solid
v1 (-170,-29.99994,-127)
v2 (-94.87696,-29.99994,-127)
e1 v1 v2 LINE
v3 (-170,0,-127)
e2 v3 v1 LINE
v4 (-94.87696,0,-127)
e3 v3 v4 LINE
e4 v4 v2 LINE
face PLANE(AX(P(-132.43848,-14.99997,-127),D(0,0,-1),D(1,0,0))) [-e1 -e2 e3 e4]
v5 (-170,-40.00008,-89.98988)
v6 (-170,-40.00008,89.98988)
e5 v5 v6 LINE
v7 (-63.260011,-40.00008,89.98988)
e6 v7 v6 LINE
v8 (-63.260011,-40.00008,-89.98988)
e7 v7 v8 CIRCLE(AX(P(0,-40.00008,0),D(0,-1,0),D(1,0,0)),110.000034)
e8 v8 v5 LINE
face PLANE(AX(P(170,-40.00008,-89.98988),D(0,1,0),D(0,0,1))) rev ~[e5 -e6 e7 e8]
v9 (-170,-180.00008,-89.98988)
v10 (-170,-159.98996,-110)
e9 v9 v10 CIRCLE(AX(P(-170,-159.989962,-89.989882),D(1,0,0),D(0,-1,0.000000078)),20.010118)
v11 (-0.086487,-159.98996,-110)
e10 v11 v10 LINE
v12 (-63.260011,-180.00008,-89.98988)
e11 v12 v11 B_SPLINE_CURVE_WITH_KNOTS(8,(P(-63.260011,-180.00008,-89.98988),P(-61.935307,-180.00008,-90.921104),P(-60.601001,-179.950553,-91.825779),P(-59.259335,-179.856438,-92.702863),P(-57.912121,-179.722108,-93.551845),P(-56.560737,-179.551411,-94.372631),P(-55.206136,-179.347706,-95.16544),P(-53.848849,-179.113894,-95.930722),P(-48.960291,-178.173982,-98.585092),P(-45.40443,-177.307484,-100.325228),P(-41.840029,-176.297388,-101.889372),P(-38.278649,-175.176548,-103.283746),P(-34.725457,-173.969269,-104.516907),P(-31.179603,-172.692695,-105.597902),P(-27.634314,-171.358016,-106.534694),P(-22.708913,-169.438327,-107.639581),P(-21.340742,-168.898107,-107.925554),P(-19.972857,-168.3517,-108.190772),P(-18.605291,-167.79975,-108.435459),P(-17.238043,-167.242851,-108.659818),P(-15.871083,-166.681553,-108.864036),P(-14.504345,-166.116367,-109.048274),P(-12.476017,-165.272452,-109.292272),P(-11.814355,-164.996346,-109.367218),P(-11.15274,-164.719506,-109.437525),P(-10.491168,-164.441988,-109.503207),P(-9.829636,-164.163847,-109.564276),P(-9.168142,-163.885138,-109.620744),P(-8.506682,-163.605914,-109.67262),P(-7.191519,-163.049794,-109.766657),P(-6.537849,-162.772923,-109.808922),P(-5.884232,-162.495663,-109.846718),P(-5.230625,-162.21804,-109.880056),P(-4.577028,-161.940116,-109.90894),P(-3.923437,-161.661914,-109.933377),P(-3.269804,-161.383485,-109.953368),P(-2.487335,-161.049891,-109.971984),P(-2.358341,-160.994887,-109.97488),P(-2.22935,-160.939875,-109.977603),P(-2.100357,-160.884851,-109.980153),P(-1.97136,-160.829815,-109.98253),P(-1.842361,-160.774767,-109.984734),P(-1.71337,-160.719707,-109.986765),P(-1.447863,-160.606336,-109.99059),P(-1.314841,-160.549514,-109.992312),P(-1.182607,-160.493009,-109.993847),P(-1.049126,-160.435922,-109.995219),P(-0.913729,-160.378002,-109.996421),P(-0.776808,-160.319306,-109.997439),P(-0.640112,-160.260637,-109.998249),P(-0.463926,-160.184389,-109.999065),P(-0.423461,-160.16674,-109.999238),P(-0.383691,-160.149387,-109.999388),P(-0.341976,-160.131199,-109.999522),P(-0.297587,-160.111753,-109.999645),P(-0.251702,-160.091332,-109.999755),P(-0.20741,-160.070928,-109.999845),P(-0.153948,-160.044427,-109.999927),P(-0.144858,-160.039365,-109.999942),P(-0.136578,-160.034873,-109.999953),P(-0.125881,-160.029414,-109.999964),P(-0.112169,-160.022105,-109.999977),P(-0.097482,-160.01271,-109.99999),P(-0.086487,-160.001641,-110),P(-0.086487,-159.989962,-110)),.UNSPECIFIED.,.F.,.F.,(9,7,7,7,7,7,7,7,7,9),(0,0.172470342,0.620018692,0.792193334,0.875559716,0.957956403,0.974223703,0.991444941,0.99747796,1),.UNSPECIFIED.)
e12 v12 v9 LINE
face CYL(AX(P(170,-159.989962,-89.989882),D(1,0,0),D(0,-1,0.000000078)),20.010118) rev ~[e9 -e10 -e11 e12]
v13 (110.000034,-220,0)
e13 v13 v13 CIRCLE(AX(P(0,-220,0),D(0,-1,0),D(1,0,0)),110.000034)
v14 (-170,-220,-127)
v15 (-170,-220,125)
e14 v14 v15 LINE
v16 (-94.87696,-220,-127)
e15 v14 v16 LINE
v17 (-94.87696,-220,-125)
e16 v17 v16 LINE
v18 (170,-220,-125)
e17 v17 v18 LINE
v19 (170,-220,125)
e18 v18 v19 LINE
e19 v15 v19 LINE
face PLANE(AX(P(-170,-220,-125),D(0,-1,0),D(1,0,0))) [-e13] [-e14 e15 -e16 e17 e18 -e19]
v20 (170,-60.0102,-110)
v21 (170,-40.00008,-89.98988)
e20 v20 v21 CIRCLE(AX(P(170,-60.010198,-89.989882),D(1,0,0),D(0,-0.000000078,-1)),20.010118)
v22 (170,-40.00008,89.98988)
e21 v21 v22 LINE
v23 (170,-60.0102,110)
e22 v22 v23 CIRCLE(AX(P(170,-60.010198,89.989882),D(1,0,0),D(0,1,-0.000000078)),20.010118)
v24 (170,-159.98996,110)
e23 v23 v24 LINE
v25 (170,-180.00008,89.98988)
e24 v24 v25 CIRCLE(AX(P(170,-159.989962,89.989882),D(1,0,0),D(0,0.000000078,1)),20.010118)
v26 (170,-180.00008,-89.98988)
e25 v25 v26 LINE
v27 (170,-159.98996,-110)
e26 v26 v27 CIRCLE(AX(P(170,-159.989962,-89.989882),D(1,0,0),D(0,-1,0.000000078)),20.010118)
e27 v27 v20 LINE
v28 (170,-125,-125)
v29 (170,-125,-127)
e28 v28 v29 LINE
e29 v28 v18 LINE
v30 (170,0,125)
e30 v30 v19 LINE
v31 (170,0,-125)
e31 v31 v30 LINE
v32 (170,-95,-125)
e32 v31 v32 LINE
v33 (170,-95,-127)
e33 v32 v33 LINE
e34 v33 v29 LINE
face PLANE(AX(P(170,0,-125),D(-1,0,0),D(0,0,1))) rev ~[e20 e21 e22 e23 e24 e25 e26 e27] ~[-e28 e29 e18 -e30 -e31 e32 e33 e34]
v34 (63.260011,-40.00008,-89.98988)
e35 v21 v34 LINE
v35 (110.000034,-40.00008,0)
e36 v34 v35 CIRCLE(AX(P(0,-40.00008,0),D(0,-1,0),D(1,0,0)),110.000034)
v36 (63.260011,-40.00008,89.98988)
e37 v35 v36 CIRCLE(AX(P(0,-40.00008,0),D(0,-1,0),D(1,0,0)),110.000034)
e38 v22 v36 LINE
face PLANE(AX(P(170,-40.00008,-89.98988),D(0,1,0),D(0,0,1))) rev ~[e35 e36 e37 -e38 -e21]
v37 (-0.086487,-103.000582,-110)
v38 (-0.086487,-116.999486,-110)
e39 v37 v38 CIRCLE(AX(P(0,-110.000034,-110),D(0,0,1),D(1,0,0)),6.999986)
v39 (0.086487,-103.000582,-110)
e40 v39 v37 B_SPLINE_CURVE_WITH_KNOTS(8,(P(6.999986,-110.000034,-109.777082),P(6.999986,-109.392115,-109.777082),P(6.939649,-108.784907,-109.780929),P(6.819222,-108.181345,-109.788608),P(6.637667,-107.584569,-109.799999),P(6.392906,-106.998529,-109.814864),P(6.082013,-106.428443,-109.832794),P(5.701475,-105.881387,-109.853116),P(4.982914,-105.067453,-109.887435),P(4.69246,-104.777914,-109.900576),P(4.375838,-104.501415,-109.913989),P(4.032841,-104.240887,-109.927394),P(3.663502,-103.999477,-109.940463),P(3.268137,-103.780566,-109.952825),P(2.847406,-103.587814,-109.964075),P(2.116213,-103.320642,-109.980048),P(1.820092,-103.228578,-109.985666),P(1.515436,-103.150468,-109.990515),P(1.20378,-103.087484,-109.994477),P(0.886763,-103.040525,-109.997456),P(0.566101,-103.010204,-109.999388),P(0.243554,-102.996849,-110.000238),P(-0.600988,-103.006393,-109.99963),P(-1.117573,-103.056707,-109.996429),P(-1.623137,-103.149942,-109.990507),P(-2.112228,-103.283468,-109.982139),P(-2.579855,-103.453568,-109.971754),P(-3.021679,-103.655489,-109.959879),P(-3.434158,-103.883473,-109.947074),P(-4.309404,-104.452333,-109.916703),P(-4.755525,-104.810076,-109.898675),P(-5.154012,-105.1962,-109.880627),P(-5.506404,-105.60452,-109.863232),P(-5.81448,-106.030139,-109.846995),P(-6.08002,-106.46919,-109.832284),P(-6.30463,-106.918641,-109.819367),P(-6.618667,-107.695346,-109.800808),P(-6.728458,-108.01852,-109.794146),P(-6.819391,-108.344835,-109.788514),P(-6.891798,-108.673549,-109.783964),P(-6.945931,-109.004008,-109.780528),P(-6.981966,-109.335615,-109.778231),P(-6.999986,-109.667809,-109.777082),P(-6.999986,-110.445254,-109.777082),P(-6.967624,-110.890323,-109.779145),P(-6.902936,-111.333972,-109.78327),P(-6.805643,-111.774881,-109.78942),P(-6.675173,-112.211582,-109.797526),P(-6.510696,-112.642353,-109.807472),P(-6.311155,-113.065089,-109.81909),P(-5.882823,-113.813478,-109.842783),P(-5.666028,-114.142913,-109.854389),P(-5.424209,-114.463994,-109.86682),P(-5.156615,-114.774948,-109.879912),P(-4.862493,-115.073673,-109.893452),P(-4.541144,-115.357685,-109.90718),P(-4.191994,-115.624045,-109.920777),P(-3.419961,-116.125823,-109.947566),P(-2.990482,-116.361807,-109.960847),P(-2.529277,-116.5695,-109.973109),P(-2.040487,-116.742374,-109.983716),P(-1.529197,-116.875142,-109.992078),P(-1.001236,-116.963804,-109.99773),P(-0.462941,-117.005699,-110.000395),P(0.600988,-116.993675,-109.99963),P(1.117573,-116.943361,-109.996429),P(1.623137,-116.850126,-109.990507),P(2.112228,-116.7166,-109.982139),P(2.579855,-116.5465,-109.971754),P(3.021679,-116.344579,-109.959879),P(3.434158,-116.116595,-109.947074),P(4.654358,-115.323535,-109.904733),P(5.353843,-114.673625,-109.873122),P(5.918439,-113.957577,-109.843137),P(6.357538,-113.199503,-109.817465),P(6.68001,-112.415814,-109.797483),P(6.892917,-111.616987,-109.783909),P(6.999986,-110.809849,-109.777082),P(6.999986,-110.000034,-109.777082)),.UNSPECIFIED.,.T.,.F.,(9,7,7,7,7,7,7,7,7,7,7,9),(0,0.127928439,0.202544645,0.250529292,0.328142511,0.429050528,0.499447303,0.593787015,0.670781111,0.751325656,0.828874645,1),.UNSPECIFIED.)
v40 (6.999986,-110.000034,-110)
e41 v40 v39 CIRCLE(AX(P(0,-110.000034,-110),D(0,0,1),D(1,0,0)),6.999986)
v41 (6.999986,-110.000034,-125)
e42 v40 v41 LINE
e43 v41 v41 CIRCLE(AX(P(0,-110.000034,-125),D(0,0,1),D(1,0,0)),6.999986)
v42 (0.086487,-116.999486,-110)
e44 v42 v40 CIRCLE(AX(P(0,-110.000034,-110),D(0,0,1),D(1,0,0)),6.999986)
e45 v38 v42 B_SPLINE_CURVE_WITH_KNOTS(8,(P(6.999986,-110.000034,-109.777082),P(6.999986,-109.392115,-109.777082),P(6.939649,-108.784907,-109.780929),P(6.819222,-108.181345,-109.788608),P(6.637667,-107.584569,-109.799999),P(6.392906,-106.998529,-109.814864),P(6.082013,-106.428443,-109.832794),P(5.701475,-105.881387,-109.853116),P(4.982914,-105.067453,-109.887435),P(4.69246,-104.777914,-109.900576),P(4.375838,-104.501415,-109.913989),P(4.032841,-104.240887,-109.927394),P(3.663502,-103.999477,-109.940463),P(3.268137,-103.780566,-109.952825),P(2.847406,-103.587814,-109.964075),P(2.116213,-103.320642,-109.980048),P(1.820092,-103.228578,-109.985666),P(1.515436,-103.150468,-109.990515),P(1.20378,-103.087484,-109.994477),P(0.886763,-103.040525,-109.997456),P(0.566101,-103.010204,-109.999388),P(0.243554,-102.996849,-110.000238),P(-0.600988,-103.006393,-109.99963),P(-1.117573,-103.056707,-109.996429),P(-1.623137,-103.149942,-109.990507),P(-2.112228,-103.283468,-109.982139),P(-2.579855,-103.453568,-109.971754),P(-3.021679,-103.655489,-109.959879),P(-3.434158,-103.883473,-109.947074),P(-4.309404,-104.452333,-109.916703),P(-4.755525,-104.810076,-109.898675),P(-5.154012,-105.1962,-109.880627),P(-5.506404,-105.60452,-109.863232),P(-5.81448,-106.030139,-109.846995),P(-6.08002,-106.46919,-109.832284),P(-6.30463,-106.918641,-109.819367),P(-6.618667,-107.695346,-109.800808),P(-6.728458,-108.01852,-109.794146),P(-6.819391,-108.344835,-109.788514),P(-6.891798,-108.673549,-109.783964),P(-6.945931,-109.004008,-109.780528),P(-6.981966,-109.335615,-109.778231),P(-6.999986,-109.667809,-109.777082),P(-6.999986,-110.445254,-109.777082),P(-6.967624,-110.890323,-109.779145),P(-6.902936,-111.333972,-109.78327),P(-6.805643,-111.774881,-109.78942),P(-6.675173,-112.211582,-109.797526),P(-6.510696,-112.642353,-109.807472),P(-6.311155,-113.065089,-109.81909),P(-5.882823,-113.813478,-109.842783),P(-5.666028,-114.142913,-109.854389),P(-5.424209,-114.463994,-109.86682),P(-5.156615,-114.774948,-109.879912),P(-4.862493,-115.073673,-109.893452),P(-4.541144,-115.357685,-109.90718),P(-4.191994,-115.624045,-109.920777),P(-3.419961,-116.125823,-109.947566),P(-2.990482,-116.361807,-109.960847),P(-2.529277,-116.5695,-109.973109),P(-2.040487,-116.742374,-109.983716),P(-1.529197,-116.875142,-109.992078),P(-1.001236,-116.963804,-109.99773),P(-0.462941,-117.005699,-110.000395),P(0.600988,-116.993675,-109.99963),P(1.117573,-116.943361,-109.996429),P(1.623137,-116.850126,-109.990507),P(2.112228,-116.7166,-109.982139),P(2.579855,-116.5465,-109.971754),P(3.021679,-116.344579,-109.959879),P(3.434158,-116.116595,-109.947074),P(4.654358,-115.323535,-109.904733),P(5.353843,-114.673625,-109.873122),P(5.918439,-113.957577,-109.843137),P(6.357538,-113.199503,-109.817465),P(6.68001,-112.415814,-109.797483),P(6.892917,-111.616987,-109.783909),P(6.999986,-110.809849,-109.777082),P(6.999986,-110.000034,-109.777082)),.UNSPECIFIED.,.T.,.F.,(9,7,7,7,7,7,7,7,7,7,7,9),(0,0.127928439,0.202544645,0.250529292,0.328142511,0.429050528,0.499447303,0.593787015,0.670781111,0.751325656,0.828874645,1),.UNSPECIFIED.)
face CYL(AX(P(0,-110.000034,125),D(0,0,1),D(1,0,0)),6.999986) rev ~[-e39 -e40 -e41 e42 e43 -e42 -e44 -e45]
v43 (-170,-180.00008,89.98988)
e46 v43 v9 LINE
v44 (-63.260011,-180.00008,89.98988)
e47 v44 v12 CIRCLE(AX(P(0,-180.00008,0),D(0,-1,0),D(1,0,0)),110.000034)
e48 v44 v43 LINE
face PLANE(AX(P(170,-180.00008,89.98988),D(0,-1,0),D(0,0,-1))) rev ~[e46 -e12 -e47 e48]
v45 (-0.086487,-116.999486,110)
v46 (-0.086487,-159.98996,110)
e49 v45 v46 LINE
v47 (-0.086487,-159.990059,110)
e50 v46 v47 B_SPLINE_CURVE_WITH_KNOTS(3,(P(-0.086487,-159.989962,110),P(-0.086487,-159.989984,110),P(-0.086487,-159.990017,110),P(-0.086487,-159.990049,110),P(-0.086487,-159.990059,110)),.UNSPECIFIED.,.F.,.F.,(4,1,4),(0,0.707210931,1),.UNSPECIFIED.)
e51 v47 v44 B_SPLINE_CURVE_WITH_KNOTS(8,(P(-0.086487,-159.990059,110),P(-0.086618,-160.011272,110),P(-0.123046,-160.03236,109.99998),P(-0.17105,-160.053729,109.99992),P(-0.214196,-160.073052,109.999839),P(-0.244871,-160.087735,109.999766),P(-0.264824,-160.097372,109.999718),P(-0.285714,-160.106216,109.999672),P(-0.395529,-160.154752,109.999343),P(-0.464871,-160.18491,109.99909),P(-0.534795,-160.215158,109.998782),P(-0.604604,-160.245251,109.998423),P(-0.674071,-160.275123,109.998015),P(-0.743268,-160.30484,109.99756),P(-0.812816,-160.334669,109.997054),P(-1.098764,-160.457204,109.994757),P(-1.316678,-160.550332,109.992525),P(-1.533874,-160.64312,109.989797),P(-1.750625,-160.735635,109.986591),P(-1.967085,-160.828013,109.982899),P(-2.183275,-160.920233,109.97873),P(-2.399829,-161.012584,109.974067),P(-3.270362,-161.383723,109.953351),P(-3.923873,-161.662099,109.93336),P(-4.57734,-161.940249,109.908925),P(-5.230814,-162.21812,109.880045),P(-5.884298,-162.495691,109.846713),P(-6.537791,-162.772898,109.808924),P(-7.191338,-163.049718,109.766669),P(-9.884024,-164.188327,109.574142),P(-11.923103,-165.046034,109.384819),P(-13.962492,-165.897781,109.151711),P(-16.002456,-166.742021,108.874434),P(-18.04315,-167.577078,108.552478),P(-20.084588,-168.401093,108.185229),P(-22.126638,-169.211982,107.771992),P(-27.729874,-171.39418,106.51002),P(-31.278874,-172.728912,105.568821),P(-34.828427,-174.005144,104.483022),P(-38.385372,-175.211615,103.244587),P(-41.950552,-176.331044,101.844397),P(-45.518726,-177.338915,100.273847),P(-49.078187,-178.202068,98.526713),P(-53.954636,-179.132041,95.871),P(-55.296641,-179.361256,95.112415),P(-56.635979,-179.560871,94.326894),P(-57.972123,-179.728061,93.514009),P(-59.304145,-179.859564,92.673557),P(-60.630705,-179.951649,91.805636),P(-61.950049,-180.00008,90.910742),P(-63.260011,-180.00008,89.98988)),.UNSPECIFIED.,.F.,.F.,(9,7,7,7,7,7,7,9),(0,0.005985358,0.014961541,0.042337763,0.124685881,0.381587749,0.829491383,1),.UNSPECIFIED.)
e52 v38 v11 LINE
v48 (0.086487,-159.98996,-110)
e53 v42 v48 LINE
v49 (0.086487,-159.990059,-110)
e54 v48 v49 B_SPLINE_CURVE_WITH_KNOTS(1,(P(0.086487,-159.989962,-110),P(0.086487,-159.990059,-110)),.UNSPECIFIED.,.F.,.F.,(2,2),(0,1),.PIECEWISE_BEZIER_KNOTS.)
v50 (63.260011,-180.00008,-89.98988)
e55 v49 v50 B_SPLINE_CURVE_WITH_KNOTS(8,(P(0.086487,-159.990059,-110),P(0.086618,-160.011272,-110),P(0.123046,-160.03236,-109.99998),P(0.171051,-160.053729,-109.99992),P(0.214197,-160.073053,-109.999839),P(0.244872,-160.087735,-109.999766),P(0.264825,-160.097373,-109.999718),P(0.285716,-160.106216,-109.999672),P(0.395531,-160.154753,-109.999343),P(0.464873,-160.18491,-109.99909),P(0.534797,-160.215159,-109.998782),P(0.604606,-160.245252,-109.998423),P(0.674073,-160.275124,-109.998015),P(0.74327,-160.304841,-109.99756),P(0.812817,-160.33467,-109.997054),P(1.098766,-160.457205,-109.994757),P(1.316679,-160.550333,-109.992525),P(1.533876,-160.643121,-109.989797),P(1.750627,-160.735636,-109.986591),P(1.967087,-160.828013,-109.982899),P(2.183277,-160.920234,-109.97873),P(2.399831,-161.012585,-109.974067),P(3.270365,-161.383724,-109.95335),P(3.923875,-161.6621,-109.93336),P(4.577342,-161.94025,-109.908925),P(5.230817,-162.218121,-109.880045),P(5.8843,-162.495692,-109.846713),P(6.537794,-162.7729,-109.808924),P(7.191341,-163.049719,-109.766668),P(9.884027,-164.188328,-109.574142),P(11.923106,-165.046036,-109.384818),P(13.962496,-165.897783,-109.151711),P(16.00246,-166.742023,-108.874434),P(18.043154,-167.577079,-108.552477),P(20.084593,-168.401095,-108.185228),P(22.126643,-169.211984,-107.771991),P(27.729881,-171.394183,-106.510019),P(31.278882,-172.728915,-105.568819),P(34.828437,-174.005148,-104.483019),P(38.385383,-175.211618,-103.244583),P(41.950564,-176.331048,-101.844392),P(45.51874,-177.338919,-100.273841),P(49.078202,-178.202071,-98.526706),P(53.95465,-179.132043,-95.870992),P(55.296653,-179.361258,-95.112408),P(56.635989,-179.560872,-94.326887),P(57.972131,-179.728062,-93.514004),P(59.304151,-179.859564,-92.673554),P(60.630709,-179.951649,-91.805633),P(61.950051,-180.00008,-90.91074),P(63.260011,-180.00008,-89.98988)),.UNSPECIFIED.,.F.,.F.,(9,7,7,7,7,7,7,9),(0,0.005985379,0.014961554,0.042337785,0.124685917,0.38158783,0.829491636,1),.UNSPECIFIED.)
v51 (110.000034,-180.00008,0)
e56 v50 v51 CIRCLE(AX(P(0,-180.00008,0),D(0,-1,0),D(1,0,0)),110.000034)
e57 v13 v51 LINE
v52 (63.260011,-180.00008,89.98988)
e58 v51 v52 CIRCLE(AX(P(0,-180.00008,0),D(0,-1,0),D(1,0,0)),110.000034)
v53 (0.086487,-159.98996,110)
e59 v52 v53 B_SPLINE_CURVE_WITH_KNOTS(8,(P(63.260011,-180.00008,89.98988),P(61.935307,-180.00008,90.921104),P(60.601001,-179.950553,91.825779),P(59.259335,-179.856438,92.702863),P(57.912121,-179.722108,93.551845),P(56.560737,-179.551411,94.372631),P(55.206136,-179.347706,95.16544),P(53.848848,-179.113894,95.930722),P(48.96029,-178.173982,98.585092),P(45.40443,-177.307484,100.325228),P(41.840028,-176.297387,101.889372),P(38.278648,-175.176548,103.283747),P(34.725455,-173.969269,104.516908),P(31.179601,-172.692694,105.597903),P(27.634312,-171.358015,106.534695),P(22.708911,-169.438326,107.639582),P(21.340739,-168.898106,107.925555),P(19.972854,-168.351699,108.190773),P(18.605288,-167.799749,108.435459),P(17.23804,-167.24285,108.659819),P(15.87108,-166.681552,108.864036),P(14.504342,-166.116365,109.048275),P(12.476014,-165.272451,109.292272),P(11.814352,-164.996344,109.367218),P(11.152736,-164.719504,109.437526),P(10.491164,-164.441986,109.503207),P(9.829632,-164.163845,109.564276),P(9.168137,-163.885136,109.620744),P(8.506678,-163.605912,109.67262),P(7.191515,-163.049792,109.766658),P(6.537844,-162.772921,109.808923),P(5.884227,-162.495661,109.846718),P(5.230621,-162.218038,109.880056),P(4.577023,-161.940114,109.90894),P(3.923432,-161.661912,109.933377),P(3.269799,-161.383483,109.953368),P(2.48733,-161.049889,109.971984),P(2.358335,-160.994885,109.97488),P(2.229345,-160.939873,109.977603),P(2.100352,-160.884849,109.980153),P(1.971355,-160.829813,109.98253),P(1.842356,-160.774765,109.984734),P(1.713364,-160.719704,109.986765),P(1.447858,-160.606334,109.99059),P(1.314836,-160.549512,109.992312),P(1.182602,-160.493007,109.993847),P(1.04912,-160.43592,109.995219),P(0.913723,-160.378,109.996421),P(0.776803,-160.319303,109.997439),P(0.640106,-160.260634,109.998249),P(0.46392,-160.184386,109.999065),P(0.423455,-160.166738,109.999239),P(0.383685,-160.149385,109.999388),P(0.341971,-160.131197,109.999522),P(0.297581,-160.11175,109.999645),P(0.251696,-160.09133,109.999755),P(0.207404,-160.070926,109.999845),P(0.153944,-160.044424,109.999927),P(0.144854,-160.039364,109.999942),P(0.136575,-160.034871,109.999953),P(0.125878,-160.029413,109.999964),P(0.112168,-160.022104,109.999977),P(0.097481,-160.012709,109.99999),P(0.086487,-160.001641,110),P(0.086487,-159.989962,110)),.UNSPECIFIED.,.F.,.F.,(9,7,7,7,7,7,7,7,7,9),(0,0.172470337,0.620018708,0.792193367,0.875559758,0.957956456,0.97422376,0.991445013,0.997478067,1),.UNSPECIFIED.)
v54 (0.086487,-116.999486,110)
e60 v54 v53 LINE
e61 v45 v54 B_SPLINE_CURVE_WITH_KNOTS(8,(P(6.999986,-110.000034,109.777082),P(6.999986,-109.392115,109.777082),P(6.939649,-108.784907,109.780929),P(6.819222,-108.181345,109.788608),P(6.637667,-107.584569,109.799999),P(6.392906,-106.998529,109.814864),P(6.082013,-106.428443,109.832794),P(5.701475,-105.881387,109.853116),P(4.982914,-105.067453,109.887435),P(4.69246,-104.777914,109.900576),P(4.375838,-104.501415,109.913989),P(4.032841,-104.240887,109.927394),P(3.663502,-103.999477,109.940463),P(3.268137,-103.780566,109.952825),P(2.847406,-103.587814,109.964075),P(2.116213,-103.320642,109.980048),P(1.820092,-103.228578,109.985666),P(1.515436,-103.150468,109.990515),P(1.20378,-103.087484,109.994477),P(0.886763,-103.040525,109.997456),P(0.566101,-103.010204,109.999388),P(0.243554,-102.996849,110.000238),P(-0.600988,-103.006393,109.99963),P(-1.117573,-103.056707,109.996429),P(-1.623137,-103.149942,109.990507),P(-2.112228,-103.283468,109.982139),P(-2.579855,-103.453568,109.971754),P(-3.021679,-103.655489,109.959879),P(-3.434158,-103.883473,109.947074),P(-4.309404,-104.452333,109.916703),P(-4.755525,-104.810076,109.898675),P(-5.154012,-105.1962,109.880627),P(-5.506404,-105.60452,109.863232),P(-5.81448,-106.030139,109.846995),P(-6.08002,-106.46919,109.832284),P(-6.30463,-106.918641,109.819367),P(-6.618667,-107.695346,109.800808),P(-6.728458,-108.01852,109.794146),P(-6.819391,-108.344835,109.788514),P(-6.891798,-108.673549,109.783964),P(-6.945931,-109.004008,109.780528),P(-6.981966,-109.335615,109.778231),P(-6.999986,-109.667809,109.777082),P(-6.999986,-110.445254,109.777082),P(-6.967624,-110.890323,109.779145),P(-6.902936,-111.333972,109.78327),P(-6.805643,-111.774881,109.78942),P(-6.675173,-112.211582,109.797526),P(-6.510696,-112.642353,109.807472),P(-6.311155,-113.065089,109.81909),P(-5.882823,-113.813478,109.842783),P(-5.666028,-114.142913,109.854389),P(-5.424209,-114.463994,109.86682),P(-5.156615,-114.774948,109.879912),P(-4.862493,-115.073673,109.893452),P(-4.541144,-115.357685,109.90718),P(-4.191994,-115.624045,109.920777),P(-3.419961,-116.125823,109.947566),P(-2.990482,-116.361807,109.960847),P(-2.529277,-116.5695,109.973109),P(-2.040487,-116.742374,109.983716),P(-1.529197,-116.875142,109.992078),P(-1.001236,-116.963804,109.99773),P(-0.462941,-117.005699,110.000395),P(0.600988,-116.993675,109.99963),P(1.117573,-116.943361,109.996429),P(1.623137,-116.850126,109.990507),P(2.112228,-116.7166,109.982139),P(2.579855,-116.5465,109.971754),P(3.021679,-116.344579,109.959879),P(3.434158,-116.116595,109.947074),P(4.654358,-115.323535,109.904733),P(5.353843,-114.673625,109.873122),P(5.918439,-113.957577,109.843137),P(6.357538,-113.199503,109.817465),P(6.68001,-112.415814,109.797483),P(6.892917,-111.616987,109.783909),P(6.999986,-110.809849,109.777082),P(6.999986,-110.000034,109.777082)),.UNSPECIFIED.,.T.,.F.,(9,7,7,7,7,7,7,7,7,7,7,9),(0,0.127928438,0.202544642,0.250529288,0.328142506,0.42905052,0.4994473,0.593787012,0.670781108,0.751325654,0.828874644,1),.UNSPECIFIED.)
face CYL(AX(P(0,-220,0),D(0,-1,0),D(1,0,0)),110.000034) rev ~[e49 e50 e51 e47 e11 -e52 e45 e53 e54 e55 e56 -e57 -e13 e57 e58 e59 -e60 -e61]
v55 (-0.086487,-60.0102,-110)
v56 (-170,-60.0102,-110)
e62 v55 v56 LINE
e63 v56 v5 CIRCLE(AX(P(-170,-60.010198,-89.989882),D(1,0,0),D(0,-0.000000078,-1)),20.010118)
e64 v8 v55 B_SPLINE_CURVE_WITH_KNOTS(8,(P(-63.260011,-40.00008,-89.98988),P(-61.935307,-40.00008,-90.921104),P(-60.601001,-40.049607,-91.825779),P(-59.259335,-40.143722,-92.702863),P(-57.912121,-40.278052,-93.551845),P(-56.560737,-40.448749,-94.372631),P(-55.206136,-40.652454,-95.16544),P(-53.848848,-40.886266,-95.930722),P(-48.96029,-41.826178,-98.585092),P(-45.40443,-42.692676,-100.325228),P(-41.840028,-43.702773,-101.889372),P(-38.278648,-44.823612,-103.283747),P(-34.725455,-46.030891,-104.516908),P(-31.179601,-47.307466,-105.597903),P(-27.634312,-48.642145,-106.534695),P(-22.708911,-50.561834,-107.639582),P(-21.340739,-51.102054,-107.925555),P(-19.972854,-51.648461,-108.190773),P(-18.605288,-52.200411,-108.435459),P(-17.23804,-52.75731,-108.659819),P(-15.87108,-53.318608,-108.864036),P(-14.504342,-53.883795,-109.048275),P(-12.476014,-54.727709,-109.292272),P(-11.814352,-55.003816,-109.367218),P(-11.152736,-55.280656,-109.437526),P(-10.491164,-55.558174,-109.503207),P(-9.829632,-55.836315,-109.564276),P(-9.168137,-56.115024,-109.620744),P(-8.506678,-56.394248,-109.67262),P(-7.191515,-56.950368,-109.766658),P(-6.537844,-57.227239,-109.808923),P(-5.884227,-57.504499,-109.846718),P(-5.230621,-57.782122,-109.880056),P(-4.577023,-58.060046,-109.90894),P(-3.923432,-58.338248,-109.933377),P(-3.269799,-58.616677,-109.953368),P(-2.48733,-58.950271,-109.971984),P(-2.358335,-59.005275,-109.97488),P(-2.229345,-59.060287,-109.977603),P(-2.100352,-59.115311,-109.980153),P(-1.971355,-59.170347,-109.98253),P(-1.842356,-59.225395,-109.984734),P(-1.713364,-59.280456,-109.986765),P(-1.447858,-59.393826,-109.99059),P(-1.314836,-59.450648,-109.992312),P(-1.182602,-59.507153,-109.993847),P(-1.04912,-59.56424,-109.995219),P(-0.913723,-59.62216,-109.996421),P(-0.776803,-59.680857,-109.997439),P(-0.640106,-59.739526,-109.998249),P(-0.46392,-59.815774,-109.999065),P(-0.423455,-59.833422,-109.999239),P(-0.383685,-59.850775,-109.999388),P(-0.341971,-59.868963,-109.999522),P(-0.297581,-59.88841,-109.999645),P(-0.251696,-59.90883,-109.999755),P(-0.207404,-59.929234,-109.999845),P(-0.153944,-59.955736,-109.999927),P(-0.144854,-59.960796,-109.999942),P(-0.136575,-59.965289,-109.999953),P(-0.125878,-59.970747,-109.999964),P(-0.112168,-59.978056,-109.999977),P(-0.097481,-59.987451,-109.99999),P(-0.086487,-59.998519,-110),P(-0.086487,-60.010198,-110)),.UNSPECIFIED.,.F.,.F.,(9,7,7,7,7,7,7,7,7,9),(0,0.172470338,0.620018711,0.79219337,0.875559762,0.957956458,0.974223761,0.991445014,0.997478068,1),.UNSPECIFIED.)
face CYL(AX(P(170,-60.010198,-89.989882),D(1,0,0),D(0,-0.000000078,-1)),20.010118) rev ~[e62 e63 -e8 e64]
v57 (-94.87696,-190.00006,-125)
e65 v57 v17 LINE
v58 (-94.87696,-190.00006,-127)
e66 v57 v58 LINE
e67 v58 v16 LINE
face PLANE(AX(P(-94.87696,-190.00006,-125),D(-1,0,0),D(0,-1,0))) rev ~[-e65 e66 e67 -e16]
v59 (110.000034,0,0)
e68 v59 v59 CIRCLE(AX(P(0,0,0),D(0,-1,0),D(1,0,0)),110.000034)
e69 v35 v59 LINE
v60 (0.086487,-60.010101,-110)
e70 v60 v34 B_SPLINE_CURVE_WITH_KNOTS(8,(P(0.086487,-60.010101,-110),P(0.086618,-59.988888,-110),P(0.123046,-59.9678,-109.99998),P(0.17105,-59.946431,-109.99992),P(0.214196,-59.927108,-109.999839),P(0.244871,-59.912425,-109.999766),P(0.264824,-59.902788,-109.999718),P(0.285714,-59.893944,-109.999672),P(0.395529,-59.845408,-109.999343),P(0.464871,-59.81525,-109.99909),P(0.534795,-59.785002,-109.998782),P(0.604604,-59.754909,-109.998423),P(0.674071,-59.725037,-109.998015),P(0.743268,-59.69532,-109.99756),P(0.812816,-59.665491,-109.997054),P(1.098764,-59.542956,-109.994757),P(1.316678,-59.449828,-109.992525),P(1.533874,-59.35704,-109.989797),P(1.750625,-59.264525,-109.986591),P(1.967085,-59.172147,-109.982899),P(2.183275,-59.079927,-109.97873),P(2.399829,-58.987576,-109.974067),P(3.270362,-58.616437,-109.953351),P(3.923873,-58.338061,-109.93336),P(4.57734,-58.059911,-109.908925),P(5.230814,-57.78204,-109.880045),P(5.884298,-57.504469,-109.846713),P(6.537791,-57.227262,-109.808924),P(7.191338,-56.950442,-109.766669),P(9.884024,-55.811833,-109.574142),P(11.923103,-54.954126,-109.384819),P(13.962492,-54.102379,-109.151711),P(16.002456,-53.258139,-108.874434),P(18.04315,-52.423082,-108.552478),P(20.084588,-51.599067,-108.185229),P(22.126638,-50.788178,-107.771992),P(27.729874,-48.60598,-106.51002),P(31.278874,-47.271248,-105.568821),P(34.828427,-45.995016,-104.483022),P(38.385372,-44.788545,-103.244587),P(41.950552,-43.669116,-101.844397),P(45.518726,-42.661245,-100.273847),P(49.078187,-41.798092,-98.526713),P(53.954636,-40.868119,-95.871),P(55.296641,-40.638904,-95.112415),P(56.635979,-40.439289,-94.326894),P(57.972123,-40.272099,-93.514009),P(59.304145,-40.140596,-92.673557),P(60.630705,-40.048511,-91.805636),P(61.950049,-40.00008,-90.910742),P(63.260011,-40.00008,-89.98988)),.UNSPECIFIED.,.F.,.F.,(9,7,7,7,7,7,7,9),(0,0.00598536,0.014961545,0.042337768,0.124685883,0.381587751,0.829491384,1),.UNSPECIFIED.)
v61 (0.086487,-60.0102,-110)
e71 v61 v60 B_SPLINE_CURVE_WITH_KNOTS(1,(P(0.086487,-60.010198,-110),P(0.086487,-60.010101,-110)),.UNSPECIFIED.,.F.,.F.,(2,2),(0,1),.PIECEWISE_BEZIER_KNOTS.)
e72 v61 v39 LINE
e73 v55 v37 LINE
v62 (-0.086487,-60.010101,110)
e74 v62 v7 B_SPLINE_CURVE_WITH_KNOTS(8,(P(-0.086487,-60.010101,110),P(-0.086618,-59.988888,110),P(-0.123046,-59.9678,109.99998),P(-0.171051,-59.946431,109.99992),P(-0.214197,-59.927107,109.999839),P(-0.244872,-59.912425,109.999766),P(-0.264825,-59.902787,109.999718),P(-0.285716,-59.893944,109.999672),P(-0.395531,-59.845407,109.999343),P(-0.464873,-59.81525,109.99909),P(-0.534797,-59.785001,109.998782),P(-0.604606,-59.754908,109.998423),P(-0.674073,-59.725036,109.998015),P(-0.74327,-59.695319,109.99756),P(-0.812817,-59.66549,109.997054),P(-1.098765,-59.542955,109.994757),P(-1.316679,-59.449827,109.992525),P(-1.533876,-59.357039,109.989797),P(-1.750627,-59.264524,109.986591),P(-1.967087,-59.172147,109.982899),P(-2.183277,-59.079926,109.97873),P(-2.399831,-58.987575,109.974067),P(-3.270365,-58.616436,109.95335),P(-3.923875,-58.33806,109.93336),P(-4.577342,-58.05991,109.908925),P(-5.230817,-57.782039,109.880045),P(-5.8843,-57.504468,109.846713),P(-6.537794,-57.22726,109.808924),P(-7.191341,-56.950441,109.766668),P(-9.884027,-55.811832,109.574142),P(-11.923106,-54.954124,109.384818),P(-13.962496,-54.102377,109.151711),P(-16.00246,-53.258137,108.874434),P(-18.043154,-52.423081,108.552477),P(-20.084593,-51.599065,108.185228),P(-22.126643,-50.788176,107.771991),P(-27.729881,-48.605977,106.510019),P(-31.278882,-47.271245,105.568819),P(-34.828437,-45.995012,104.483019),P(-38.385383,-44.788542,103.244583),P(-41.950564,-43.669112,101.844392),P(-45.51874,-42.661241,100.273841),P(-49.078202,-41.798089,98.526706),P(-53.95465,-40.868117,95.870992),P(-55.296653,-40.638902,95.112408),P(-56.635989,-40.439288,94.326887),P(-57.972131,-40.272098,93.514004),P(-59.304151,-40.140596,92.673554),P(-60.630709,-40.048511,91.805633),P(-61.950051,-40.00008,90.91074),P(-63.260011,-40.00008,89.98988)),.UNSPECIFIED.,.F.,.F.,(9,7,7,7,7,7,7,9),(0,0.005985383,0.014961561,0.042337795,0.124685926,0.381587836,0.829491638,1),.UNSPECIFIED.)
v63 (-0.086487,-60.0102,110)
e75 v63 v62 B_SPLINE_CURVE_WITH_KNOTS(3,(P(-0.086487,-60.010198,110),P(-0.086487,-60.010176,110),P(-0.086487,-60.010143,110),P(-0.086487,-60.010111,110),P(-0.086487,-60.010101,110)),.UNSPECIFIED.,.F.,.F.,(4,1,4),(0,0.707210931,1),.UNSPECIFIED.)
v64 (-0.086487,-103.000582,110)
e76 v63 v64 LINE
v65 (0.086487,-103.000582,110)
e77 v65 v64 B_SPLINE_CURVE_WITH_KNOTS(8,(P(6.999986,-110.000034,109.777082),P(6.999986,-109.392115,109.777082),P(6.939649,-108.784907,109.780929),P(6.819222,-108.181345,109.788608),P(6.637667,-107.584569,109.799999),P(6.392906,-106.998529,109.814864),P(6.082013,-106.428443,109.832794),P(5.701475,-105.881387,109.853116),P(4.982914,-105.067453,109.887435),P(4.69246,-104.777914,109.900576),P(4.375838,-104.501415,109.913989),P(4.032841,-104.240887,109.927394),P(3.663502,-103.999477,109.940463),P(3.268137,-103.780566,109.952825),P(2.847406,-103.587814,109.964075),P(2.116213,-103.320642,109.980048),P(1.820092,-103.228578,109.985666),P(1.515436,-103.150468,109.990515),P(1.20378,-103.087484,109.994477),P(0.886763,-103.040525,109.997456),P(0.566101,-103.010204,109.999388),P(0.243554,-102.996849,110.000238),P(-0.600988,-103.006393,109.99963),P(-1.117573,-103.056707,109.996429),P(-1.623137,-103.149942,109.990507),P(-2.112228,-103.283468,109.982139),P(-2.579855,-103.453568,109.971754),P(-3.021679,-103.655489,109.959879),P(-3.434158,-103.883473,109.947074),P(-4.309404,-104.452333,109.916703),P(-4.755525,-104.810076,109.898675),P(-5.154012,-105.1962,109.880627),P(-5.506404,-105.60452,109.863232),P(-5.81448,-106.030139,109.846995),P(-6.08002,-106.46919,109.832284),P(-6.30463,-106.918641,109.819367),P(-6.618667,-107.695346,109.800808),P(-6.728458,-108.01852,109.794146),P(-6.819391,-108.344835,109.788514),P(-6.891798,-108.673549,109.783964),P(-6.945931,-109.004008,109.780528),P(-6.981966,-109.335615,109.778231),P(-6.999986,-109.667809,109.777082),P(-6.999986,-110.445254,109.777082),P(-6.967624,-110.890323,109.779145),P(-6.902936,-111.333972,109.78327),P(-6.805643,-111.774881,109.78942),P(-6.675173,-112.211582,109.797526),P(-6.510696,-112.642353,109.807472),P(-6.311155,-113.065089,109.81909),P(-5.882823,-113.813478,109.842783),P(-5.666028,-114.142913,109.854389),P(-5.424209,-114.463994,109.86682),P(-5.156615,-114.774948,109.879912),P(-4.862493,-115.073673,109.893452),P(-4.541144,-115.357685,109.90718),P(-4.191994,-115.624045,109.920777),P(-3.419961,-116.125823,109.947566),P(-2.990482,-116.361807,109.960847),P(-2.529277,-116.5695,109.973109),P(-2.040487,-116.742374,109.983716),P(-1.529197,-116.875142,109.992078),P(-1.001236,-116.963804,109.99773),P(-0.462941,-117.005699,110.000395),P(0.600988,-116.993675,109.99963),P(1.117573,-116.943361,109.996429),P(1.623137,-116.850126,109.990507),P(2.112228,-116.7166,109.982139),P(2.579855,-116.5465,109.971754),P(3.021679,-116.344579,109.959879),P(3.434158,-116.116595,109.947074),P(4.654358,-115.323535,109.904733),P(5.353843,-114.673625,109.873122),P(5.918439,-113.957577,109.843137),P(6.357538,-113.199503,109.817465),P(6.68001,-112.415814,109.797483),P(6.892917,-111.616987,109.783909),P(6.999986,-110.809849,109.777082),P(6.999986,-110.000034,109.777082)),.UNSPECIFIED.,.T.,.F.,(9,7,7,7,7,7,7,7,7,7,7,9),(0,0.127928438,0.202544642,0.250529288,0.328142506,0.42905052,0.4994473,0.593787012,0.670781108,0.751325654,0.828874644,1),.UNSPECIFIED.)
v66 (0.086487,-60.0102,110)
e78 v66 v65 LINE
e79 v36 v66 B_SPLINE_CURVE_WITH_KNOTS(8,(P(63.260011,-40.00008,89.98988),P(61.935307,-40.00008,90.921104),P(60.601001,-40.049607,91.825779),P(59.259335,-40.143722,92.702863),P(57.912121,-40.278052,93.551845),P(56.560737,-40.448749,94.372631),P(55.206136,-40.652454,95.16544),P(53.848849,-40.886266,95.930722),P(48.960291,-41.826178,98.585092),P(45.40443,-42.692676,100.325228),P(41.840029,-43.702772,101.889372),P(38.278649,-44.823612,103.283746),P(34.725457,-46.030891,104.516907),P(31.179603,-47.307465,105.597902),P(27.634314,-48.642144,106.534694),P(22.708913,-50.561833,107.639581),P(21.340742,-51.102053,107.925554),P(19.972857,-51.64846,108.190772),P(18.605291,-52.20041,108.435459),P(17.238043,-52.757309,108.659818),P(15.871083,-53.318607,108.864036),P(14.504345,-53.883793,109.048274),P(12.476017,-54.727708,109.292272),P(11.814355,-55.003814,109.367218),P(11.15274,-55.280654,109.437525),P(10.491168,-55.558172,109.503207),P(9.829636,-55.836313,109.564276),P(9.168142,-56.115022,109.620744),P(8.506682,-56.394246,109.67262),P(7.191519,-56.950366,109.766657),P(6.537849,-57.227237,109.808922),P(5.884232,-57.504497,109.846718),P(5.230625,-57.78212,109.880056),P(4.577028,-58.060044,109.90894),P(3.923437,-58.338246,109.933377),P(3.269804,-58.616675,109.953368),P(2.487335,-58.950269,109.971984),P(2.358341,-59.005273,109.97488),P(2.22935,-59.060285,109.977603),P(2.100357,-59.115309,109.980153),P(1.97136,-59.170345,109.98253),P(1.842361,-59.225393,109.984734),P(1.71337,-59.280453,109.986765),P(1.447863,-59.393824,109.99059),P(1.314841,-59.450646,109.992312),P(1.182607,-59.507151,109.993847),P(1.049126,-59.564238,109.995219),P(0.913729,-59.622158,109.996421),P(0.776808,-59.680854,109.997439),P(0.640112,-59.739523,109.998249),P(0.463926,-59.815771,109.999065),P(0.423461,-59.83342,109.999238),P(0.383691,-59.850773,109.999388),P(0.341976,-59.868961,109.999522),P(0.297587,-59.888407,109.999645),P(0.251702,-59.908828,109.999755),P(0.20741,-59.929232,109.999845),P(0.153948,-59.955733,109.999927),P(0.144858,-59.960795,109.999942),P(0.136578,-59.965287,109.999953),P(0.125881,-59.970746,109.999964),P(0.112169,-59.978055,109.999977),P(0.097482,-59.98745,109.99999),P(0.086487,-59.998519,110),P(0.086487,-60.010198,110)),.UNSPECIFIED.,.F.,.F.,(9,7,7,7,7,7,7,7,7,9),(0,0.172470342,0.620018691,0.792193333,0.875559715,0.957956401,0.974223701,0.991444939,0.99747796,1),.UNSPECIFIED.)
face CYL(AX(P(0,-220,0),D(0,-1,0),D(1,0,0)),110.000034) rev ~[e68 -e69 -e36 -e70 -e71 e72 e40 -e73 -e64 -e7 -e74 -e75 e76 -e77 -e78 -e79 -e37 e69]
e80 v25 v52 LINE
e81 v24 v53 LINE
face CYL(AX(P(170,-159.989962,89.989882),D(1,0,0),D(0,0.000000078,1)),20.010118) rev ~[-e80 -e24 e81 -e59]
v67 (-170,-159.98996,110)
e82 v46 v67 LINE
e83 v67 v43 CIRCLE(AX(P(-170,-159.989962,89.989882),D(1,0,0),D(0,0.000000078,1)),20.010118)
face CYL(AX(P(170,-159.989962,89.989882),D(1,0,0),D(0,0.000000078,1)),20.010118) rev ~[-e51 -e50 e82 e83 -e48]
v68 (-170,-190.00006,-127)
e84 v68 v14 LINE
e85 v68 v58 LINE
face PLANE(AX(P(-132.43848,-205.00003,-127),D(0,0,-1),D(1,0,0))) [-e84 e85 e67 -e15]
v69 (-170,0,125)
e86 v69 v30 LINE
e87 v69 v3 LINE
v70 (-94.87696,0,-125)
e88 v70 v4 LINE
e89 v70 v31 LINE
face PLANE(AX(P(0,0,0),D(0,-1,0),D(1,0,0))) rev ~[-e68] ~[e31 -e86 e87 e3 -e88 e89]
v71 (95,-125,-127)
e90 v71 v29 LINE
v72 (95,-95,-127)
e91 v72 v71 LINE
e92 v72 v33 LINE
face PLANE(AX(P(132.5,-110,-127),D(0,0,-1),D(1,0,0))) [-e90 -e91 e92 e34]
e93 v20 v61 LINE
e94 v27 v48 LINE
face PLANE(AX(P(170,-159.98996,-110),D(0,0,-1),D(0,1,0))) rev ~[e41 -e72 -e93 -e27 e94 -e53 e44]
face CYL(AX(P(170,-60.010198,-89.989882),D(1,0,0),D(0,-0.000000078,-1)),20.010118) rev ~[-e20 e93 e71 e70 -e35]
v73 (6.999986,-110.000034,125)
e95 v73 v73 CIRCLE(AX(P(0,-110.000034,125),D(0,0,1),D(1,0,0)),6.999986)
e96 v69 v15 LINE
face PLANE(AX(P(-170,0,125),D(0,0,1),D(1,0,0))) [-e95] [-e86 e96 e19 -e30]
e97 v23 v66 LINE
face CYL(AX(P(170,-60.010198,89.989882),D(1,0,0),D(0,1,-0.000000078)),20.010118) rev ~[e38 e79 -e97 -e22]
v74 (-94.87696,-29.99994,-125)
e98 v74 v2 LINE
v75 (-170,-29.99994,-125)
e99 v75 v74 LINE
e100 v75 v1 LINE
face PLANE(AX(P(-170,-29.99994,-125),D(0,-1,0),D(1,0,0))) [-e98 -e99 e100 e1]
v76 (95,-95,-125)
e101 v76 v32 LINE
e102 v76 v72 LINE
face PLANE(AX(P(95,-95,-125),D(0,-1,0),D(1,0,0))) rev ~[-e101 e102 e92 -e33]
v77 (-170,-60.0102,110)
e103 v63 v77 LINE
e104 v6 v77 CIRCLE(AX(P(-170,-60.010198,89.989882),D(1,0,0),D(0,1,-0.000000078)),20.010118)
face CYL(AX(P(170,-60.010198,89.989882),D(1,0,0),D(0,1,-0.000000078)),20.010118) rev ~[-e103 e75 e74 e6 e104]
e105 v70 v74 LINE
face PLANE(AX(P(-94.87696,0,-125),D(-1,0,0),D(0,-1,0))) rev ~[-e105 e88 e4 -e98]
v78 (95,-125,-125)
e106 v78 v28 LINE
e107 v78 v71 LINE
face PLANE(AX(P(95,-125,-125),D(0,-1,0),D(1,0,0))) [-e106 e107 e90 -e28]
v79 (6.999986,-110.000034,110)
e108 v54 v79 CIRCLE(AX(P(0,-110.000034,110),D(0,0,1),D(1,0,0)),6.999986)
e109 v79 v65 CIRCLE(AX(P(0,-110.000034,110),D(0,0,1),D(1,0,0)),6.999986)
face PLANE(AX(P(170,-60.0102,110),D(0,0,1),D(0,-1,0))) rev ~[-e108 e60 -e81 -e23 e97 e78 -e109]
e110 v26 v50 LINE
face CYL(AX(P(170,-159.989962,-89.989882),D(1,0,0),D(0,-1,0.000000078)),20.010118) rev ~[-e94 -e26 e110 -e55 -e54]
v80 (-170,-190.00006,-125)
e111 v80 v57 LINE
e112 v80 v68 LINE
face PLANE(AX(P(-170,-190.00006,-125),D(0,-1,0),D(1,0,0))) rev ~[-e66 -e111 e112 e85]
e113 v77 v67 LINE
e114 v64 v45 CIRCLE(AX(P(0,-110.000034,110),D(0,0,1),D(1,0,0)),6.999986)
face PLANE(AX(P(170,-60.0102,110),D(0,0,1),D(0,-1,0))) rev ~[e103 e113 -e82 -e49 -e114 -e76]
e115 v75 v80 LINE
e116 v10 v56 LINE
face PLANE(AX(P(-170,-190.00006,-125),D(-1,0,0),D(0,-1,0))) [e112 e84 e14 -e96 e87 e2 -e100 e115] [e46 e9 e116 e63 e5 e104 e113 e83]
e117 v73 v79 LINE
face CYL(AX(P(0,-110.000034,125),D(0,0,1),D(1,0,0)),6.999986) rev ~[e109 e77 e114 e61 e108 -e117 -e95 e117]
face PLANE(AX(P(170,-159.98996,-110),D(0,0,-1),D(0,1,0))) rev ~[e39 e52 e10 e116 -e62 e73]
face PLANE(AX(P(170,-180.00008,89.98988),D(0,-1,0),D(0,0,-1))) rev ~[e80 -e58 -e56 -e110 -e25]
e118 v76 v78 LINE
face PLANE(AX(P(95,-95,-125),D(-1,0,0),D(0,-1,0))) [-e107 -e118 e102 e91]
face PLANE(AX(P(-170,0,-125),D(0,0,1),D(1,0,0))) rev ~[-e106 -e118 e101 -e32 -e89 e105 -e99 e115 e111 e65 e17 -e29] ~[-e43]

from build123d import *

# Parameters (mm, degrees)
F0_W      = 340
F0_H      = 250
F1_DEPTH  = 220
F3_DEPTH  = 340
F4_R      = 110.000034
F5_DEPTH  = 228.6
F6_R      = 6.999986
F7_DEPTH  = 304.8
F8_W      = 75.12304
F8_H      = 29.99994
F9_DEPTH  = 2
F10_W     = 75
F10_H     = 30
F11_DEPTH = 2


with BuildPart() as f1:
    # F0 (on Front) → F1 (new body)
    with BuildSketch(Plane.XZ):
        Rectangle(F0_W, F0_H)
    extrude(amount=F1_DEPTH)

    # F2 (on face) → F3 (cut)
    with BuildSketch(Plane.YZ.offset(170)):
        with BuildLine():
            ThreePointArc((-40.00008, 89.98988), (-45.860908, 104.139172), (-60.0102, 110))
            Line((-60.0102, 110), (-159.98996, 110))
            ThreePointArc((-159.98996, 110), (-174.139252, 104.139172), (-180.00008, 89.98988))
            Line((-180.00008, 89.98988), (-180.00008, -89.98988))
            ThreePointArc((-180.00008, -89.98988), (-174.139252, -104.139172), (-159.98996, -110))
            Line((-159.98996, -110), (-60.0102, -110))
            ThreePointArc((-60.0102, -110), (-45.860908, -104.139172), (-40.00008, -89.98988))
            Line((-40.00008, -89.98988), (-40.00008, 89.98988))
        make_face()
    extrude(amount=-F3_DEPTH, mode=Mode.SUBTRACT)

    # F4 (on face) → F5 (cut)
    with BuildSketch(Plane.XZ.offset(220)):
        Circle(F4_R)
    extrude(amount=-F5_DEPTH, mode=Mode.SUBTRACT)

    # F6 (on face) → F7 (cut)
    with BuildSketch(Plane.XY.offset(125)):
        with Locations((0, -110.000034)):
            Circle(F6_R)
    extrude(amount=-F7_DEPTH, mode=Mode.SUBTRACT)

    # F8 (on face) → F9 (join)
    with BuildSketch(Plane(origin=(0, 0, -125), x_dir=(1, 0, 0), z_dir=(0, 0, -1))):
        with Locations((-132.43848, 205.00003)):
            Rectangle(F8_W, F8_H)
        with Locations((-132.43848, 14.99997)):
            Rectangle(F8_W, F8_H)
    extrude(amount=F9_DEPTH)

    # F10 (on face) → F11 (join)
    with BuildSketch(Plane(origin=(0, 0, -125), x_dir=(1, 0, 0), z_dir=(0, 0, -1))):
        with Locations((132.5, 110)):
            Rectangle(F10_W, F10_H)
    extrude(amount=F11_DEPTH)


solid = f1.part
